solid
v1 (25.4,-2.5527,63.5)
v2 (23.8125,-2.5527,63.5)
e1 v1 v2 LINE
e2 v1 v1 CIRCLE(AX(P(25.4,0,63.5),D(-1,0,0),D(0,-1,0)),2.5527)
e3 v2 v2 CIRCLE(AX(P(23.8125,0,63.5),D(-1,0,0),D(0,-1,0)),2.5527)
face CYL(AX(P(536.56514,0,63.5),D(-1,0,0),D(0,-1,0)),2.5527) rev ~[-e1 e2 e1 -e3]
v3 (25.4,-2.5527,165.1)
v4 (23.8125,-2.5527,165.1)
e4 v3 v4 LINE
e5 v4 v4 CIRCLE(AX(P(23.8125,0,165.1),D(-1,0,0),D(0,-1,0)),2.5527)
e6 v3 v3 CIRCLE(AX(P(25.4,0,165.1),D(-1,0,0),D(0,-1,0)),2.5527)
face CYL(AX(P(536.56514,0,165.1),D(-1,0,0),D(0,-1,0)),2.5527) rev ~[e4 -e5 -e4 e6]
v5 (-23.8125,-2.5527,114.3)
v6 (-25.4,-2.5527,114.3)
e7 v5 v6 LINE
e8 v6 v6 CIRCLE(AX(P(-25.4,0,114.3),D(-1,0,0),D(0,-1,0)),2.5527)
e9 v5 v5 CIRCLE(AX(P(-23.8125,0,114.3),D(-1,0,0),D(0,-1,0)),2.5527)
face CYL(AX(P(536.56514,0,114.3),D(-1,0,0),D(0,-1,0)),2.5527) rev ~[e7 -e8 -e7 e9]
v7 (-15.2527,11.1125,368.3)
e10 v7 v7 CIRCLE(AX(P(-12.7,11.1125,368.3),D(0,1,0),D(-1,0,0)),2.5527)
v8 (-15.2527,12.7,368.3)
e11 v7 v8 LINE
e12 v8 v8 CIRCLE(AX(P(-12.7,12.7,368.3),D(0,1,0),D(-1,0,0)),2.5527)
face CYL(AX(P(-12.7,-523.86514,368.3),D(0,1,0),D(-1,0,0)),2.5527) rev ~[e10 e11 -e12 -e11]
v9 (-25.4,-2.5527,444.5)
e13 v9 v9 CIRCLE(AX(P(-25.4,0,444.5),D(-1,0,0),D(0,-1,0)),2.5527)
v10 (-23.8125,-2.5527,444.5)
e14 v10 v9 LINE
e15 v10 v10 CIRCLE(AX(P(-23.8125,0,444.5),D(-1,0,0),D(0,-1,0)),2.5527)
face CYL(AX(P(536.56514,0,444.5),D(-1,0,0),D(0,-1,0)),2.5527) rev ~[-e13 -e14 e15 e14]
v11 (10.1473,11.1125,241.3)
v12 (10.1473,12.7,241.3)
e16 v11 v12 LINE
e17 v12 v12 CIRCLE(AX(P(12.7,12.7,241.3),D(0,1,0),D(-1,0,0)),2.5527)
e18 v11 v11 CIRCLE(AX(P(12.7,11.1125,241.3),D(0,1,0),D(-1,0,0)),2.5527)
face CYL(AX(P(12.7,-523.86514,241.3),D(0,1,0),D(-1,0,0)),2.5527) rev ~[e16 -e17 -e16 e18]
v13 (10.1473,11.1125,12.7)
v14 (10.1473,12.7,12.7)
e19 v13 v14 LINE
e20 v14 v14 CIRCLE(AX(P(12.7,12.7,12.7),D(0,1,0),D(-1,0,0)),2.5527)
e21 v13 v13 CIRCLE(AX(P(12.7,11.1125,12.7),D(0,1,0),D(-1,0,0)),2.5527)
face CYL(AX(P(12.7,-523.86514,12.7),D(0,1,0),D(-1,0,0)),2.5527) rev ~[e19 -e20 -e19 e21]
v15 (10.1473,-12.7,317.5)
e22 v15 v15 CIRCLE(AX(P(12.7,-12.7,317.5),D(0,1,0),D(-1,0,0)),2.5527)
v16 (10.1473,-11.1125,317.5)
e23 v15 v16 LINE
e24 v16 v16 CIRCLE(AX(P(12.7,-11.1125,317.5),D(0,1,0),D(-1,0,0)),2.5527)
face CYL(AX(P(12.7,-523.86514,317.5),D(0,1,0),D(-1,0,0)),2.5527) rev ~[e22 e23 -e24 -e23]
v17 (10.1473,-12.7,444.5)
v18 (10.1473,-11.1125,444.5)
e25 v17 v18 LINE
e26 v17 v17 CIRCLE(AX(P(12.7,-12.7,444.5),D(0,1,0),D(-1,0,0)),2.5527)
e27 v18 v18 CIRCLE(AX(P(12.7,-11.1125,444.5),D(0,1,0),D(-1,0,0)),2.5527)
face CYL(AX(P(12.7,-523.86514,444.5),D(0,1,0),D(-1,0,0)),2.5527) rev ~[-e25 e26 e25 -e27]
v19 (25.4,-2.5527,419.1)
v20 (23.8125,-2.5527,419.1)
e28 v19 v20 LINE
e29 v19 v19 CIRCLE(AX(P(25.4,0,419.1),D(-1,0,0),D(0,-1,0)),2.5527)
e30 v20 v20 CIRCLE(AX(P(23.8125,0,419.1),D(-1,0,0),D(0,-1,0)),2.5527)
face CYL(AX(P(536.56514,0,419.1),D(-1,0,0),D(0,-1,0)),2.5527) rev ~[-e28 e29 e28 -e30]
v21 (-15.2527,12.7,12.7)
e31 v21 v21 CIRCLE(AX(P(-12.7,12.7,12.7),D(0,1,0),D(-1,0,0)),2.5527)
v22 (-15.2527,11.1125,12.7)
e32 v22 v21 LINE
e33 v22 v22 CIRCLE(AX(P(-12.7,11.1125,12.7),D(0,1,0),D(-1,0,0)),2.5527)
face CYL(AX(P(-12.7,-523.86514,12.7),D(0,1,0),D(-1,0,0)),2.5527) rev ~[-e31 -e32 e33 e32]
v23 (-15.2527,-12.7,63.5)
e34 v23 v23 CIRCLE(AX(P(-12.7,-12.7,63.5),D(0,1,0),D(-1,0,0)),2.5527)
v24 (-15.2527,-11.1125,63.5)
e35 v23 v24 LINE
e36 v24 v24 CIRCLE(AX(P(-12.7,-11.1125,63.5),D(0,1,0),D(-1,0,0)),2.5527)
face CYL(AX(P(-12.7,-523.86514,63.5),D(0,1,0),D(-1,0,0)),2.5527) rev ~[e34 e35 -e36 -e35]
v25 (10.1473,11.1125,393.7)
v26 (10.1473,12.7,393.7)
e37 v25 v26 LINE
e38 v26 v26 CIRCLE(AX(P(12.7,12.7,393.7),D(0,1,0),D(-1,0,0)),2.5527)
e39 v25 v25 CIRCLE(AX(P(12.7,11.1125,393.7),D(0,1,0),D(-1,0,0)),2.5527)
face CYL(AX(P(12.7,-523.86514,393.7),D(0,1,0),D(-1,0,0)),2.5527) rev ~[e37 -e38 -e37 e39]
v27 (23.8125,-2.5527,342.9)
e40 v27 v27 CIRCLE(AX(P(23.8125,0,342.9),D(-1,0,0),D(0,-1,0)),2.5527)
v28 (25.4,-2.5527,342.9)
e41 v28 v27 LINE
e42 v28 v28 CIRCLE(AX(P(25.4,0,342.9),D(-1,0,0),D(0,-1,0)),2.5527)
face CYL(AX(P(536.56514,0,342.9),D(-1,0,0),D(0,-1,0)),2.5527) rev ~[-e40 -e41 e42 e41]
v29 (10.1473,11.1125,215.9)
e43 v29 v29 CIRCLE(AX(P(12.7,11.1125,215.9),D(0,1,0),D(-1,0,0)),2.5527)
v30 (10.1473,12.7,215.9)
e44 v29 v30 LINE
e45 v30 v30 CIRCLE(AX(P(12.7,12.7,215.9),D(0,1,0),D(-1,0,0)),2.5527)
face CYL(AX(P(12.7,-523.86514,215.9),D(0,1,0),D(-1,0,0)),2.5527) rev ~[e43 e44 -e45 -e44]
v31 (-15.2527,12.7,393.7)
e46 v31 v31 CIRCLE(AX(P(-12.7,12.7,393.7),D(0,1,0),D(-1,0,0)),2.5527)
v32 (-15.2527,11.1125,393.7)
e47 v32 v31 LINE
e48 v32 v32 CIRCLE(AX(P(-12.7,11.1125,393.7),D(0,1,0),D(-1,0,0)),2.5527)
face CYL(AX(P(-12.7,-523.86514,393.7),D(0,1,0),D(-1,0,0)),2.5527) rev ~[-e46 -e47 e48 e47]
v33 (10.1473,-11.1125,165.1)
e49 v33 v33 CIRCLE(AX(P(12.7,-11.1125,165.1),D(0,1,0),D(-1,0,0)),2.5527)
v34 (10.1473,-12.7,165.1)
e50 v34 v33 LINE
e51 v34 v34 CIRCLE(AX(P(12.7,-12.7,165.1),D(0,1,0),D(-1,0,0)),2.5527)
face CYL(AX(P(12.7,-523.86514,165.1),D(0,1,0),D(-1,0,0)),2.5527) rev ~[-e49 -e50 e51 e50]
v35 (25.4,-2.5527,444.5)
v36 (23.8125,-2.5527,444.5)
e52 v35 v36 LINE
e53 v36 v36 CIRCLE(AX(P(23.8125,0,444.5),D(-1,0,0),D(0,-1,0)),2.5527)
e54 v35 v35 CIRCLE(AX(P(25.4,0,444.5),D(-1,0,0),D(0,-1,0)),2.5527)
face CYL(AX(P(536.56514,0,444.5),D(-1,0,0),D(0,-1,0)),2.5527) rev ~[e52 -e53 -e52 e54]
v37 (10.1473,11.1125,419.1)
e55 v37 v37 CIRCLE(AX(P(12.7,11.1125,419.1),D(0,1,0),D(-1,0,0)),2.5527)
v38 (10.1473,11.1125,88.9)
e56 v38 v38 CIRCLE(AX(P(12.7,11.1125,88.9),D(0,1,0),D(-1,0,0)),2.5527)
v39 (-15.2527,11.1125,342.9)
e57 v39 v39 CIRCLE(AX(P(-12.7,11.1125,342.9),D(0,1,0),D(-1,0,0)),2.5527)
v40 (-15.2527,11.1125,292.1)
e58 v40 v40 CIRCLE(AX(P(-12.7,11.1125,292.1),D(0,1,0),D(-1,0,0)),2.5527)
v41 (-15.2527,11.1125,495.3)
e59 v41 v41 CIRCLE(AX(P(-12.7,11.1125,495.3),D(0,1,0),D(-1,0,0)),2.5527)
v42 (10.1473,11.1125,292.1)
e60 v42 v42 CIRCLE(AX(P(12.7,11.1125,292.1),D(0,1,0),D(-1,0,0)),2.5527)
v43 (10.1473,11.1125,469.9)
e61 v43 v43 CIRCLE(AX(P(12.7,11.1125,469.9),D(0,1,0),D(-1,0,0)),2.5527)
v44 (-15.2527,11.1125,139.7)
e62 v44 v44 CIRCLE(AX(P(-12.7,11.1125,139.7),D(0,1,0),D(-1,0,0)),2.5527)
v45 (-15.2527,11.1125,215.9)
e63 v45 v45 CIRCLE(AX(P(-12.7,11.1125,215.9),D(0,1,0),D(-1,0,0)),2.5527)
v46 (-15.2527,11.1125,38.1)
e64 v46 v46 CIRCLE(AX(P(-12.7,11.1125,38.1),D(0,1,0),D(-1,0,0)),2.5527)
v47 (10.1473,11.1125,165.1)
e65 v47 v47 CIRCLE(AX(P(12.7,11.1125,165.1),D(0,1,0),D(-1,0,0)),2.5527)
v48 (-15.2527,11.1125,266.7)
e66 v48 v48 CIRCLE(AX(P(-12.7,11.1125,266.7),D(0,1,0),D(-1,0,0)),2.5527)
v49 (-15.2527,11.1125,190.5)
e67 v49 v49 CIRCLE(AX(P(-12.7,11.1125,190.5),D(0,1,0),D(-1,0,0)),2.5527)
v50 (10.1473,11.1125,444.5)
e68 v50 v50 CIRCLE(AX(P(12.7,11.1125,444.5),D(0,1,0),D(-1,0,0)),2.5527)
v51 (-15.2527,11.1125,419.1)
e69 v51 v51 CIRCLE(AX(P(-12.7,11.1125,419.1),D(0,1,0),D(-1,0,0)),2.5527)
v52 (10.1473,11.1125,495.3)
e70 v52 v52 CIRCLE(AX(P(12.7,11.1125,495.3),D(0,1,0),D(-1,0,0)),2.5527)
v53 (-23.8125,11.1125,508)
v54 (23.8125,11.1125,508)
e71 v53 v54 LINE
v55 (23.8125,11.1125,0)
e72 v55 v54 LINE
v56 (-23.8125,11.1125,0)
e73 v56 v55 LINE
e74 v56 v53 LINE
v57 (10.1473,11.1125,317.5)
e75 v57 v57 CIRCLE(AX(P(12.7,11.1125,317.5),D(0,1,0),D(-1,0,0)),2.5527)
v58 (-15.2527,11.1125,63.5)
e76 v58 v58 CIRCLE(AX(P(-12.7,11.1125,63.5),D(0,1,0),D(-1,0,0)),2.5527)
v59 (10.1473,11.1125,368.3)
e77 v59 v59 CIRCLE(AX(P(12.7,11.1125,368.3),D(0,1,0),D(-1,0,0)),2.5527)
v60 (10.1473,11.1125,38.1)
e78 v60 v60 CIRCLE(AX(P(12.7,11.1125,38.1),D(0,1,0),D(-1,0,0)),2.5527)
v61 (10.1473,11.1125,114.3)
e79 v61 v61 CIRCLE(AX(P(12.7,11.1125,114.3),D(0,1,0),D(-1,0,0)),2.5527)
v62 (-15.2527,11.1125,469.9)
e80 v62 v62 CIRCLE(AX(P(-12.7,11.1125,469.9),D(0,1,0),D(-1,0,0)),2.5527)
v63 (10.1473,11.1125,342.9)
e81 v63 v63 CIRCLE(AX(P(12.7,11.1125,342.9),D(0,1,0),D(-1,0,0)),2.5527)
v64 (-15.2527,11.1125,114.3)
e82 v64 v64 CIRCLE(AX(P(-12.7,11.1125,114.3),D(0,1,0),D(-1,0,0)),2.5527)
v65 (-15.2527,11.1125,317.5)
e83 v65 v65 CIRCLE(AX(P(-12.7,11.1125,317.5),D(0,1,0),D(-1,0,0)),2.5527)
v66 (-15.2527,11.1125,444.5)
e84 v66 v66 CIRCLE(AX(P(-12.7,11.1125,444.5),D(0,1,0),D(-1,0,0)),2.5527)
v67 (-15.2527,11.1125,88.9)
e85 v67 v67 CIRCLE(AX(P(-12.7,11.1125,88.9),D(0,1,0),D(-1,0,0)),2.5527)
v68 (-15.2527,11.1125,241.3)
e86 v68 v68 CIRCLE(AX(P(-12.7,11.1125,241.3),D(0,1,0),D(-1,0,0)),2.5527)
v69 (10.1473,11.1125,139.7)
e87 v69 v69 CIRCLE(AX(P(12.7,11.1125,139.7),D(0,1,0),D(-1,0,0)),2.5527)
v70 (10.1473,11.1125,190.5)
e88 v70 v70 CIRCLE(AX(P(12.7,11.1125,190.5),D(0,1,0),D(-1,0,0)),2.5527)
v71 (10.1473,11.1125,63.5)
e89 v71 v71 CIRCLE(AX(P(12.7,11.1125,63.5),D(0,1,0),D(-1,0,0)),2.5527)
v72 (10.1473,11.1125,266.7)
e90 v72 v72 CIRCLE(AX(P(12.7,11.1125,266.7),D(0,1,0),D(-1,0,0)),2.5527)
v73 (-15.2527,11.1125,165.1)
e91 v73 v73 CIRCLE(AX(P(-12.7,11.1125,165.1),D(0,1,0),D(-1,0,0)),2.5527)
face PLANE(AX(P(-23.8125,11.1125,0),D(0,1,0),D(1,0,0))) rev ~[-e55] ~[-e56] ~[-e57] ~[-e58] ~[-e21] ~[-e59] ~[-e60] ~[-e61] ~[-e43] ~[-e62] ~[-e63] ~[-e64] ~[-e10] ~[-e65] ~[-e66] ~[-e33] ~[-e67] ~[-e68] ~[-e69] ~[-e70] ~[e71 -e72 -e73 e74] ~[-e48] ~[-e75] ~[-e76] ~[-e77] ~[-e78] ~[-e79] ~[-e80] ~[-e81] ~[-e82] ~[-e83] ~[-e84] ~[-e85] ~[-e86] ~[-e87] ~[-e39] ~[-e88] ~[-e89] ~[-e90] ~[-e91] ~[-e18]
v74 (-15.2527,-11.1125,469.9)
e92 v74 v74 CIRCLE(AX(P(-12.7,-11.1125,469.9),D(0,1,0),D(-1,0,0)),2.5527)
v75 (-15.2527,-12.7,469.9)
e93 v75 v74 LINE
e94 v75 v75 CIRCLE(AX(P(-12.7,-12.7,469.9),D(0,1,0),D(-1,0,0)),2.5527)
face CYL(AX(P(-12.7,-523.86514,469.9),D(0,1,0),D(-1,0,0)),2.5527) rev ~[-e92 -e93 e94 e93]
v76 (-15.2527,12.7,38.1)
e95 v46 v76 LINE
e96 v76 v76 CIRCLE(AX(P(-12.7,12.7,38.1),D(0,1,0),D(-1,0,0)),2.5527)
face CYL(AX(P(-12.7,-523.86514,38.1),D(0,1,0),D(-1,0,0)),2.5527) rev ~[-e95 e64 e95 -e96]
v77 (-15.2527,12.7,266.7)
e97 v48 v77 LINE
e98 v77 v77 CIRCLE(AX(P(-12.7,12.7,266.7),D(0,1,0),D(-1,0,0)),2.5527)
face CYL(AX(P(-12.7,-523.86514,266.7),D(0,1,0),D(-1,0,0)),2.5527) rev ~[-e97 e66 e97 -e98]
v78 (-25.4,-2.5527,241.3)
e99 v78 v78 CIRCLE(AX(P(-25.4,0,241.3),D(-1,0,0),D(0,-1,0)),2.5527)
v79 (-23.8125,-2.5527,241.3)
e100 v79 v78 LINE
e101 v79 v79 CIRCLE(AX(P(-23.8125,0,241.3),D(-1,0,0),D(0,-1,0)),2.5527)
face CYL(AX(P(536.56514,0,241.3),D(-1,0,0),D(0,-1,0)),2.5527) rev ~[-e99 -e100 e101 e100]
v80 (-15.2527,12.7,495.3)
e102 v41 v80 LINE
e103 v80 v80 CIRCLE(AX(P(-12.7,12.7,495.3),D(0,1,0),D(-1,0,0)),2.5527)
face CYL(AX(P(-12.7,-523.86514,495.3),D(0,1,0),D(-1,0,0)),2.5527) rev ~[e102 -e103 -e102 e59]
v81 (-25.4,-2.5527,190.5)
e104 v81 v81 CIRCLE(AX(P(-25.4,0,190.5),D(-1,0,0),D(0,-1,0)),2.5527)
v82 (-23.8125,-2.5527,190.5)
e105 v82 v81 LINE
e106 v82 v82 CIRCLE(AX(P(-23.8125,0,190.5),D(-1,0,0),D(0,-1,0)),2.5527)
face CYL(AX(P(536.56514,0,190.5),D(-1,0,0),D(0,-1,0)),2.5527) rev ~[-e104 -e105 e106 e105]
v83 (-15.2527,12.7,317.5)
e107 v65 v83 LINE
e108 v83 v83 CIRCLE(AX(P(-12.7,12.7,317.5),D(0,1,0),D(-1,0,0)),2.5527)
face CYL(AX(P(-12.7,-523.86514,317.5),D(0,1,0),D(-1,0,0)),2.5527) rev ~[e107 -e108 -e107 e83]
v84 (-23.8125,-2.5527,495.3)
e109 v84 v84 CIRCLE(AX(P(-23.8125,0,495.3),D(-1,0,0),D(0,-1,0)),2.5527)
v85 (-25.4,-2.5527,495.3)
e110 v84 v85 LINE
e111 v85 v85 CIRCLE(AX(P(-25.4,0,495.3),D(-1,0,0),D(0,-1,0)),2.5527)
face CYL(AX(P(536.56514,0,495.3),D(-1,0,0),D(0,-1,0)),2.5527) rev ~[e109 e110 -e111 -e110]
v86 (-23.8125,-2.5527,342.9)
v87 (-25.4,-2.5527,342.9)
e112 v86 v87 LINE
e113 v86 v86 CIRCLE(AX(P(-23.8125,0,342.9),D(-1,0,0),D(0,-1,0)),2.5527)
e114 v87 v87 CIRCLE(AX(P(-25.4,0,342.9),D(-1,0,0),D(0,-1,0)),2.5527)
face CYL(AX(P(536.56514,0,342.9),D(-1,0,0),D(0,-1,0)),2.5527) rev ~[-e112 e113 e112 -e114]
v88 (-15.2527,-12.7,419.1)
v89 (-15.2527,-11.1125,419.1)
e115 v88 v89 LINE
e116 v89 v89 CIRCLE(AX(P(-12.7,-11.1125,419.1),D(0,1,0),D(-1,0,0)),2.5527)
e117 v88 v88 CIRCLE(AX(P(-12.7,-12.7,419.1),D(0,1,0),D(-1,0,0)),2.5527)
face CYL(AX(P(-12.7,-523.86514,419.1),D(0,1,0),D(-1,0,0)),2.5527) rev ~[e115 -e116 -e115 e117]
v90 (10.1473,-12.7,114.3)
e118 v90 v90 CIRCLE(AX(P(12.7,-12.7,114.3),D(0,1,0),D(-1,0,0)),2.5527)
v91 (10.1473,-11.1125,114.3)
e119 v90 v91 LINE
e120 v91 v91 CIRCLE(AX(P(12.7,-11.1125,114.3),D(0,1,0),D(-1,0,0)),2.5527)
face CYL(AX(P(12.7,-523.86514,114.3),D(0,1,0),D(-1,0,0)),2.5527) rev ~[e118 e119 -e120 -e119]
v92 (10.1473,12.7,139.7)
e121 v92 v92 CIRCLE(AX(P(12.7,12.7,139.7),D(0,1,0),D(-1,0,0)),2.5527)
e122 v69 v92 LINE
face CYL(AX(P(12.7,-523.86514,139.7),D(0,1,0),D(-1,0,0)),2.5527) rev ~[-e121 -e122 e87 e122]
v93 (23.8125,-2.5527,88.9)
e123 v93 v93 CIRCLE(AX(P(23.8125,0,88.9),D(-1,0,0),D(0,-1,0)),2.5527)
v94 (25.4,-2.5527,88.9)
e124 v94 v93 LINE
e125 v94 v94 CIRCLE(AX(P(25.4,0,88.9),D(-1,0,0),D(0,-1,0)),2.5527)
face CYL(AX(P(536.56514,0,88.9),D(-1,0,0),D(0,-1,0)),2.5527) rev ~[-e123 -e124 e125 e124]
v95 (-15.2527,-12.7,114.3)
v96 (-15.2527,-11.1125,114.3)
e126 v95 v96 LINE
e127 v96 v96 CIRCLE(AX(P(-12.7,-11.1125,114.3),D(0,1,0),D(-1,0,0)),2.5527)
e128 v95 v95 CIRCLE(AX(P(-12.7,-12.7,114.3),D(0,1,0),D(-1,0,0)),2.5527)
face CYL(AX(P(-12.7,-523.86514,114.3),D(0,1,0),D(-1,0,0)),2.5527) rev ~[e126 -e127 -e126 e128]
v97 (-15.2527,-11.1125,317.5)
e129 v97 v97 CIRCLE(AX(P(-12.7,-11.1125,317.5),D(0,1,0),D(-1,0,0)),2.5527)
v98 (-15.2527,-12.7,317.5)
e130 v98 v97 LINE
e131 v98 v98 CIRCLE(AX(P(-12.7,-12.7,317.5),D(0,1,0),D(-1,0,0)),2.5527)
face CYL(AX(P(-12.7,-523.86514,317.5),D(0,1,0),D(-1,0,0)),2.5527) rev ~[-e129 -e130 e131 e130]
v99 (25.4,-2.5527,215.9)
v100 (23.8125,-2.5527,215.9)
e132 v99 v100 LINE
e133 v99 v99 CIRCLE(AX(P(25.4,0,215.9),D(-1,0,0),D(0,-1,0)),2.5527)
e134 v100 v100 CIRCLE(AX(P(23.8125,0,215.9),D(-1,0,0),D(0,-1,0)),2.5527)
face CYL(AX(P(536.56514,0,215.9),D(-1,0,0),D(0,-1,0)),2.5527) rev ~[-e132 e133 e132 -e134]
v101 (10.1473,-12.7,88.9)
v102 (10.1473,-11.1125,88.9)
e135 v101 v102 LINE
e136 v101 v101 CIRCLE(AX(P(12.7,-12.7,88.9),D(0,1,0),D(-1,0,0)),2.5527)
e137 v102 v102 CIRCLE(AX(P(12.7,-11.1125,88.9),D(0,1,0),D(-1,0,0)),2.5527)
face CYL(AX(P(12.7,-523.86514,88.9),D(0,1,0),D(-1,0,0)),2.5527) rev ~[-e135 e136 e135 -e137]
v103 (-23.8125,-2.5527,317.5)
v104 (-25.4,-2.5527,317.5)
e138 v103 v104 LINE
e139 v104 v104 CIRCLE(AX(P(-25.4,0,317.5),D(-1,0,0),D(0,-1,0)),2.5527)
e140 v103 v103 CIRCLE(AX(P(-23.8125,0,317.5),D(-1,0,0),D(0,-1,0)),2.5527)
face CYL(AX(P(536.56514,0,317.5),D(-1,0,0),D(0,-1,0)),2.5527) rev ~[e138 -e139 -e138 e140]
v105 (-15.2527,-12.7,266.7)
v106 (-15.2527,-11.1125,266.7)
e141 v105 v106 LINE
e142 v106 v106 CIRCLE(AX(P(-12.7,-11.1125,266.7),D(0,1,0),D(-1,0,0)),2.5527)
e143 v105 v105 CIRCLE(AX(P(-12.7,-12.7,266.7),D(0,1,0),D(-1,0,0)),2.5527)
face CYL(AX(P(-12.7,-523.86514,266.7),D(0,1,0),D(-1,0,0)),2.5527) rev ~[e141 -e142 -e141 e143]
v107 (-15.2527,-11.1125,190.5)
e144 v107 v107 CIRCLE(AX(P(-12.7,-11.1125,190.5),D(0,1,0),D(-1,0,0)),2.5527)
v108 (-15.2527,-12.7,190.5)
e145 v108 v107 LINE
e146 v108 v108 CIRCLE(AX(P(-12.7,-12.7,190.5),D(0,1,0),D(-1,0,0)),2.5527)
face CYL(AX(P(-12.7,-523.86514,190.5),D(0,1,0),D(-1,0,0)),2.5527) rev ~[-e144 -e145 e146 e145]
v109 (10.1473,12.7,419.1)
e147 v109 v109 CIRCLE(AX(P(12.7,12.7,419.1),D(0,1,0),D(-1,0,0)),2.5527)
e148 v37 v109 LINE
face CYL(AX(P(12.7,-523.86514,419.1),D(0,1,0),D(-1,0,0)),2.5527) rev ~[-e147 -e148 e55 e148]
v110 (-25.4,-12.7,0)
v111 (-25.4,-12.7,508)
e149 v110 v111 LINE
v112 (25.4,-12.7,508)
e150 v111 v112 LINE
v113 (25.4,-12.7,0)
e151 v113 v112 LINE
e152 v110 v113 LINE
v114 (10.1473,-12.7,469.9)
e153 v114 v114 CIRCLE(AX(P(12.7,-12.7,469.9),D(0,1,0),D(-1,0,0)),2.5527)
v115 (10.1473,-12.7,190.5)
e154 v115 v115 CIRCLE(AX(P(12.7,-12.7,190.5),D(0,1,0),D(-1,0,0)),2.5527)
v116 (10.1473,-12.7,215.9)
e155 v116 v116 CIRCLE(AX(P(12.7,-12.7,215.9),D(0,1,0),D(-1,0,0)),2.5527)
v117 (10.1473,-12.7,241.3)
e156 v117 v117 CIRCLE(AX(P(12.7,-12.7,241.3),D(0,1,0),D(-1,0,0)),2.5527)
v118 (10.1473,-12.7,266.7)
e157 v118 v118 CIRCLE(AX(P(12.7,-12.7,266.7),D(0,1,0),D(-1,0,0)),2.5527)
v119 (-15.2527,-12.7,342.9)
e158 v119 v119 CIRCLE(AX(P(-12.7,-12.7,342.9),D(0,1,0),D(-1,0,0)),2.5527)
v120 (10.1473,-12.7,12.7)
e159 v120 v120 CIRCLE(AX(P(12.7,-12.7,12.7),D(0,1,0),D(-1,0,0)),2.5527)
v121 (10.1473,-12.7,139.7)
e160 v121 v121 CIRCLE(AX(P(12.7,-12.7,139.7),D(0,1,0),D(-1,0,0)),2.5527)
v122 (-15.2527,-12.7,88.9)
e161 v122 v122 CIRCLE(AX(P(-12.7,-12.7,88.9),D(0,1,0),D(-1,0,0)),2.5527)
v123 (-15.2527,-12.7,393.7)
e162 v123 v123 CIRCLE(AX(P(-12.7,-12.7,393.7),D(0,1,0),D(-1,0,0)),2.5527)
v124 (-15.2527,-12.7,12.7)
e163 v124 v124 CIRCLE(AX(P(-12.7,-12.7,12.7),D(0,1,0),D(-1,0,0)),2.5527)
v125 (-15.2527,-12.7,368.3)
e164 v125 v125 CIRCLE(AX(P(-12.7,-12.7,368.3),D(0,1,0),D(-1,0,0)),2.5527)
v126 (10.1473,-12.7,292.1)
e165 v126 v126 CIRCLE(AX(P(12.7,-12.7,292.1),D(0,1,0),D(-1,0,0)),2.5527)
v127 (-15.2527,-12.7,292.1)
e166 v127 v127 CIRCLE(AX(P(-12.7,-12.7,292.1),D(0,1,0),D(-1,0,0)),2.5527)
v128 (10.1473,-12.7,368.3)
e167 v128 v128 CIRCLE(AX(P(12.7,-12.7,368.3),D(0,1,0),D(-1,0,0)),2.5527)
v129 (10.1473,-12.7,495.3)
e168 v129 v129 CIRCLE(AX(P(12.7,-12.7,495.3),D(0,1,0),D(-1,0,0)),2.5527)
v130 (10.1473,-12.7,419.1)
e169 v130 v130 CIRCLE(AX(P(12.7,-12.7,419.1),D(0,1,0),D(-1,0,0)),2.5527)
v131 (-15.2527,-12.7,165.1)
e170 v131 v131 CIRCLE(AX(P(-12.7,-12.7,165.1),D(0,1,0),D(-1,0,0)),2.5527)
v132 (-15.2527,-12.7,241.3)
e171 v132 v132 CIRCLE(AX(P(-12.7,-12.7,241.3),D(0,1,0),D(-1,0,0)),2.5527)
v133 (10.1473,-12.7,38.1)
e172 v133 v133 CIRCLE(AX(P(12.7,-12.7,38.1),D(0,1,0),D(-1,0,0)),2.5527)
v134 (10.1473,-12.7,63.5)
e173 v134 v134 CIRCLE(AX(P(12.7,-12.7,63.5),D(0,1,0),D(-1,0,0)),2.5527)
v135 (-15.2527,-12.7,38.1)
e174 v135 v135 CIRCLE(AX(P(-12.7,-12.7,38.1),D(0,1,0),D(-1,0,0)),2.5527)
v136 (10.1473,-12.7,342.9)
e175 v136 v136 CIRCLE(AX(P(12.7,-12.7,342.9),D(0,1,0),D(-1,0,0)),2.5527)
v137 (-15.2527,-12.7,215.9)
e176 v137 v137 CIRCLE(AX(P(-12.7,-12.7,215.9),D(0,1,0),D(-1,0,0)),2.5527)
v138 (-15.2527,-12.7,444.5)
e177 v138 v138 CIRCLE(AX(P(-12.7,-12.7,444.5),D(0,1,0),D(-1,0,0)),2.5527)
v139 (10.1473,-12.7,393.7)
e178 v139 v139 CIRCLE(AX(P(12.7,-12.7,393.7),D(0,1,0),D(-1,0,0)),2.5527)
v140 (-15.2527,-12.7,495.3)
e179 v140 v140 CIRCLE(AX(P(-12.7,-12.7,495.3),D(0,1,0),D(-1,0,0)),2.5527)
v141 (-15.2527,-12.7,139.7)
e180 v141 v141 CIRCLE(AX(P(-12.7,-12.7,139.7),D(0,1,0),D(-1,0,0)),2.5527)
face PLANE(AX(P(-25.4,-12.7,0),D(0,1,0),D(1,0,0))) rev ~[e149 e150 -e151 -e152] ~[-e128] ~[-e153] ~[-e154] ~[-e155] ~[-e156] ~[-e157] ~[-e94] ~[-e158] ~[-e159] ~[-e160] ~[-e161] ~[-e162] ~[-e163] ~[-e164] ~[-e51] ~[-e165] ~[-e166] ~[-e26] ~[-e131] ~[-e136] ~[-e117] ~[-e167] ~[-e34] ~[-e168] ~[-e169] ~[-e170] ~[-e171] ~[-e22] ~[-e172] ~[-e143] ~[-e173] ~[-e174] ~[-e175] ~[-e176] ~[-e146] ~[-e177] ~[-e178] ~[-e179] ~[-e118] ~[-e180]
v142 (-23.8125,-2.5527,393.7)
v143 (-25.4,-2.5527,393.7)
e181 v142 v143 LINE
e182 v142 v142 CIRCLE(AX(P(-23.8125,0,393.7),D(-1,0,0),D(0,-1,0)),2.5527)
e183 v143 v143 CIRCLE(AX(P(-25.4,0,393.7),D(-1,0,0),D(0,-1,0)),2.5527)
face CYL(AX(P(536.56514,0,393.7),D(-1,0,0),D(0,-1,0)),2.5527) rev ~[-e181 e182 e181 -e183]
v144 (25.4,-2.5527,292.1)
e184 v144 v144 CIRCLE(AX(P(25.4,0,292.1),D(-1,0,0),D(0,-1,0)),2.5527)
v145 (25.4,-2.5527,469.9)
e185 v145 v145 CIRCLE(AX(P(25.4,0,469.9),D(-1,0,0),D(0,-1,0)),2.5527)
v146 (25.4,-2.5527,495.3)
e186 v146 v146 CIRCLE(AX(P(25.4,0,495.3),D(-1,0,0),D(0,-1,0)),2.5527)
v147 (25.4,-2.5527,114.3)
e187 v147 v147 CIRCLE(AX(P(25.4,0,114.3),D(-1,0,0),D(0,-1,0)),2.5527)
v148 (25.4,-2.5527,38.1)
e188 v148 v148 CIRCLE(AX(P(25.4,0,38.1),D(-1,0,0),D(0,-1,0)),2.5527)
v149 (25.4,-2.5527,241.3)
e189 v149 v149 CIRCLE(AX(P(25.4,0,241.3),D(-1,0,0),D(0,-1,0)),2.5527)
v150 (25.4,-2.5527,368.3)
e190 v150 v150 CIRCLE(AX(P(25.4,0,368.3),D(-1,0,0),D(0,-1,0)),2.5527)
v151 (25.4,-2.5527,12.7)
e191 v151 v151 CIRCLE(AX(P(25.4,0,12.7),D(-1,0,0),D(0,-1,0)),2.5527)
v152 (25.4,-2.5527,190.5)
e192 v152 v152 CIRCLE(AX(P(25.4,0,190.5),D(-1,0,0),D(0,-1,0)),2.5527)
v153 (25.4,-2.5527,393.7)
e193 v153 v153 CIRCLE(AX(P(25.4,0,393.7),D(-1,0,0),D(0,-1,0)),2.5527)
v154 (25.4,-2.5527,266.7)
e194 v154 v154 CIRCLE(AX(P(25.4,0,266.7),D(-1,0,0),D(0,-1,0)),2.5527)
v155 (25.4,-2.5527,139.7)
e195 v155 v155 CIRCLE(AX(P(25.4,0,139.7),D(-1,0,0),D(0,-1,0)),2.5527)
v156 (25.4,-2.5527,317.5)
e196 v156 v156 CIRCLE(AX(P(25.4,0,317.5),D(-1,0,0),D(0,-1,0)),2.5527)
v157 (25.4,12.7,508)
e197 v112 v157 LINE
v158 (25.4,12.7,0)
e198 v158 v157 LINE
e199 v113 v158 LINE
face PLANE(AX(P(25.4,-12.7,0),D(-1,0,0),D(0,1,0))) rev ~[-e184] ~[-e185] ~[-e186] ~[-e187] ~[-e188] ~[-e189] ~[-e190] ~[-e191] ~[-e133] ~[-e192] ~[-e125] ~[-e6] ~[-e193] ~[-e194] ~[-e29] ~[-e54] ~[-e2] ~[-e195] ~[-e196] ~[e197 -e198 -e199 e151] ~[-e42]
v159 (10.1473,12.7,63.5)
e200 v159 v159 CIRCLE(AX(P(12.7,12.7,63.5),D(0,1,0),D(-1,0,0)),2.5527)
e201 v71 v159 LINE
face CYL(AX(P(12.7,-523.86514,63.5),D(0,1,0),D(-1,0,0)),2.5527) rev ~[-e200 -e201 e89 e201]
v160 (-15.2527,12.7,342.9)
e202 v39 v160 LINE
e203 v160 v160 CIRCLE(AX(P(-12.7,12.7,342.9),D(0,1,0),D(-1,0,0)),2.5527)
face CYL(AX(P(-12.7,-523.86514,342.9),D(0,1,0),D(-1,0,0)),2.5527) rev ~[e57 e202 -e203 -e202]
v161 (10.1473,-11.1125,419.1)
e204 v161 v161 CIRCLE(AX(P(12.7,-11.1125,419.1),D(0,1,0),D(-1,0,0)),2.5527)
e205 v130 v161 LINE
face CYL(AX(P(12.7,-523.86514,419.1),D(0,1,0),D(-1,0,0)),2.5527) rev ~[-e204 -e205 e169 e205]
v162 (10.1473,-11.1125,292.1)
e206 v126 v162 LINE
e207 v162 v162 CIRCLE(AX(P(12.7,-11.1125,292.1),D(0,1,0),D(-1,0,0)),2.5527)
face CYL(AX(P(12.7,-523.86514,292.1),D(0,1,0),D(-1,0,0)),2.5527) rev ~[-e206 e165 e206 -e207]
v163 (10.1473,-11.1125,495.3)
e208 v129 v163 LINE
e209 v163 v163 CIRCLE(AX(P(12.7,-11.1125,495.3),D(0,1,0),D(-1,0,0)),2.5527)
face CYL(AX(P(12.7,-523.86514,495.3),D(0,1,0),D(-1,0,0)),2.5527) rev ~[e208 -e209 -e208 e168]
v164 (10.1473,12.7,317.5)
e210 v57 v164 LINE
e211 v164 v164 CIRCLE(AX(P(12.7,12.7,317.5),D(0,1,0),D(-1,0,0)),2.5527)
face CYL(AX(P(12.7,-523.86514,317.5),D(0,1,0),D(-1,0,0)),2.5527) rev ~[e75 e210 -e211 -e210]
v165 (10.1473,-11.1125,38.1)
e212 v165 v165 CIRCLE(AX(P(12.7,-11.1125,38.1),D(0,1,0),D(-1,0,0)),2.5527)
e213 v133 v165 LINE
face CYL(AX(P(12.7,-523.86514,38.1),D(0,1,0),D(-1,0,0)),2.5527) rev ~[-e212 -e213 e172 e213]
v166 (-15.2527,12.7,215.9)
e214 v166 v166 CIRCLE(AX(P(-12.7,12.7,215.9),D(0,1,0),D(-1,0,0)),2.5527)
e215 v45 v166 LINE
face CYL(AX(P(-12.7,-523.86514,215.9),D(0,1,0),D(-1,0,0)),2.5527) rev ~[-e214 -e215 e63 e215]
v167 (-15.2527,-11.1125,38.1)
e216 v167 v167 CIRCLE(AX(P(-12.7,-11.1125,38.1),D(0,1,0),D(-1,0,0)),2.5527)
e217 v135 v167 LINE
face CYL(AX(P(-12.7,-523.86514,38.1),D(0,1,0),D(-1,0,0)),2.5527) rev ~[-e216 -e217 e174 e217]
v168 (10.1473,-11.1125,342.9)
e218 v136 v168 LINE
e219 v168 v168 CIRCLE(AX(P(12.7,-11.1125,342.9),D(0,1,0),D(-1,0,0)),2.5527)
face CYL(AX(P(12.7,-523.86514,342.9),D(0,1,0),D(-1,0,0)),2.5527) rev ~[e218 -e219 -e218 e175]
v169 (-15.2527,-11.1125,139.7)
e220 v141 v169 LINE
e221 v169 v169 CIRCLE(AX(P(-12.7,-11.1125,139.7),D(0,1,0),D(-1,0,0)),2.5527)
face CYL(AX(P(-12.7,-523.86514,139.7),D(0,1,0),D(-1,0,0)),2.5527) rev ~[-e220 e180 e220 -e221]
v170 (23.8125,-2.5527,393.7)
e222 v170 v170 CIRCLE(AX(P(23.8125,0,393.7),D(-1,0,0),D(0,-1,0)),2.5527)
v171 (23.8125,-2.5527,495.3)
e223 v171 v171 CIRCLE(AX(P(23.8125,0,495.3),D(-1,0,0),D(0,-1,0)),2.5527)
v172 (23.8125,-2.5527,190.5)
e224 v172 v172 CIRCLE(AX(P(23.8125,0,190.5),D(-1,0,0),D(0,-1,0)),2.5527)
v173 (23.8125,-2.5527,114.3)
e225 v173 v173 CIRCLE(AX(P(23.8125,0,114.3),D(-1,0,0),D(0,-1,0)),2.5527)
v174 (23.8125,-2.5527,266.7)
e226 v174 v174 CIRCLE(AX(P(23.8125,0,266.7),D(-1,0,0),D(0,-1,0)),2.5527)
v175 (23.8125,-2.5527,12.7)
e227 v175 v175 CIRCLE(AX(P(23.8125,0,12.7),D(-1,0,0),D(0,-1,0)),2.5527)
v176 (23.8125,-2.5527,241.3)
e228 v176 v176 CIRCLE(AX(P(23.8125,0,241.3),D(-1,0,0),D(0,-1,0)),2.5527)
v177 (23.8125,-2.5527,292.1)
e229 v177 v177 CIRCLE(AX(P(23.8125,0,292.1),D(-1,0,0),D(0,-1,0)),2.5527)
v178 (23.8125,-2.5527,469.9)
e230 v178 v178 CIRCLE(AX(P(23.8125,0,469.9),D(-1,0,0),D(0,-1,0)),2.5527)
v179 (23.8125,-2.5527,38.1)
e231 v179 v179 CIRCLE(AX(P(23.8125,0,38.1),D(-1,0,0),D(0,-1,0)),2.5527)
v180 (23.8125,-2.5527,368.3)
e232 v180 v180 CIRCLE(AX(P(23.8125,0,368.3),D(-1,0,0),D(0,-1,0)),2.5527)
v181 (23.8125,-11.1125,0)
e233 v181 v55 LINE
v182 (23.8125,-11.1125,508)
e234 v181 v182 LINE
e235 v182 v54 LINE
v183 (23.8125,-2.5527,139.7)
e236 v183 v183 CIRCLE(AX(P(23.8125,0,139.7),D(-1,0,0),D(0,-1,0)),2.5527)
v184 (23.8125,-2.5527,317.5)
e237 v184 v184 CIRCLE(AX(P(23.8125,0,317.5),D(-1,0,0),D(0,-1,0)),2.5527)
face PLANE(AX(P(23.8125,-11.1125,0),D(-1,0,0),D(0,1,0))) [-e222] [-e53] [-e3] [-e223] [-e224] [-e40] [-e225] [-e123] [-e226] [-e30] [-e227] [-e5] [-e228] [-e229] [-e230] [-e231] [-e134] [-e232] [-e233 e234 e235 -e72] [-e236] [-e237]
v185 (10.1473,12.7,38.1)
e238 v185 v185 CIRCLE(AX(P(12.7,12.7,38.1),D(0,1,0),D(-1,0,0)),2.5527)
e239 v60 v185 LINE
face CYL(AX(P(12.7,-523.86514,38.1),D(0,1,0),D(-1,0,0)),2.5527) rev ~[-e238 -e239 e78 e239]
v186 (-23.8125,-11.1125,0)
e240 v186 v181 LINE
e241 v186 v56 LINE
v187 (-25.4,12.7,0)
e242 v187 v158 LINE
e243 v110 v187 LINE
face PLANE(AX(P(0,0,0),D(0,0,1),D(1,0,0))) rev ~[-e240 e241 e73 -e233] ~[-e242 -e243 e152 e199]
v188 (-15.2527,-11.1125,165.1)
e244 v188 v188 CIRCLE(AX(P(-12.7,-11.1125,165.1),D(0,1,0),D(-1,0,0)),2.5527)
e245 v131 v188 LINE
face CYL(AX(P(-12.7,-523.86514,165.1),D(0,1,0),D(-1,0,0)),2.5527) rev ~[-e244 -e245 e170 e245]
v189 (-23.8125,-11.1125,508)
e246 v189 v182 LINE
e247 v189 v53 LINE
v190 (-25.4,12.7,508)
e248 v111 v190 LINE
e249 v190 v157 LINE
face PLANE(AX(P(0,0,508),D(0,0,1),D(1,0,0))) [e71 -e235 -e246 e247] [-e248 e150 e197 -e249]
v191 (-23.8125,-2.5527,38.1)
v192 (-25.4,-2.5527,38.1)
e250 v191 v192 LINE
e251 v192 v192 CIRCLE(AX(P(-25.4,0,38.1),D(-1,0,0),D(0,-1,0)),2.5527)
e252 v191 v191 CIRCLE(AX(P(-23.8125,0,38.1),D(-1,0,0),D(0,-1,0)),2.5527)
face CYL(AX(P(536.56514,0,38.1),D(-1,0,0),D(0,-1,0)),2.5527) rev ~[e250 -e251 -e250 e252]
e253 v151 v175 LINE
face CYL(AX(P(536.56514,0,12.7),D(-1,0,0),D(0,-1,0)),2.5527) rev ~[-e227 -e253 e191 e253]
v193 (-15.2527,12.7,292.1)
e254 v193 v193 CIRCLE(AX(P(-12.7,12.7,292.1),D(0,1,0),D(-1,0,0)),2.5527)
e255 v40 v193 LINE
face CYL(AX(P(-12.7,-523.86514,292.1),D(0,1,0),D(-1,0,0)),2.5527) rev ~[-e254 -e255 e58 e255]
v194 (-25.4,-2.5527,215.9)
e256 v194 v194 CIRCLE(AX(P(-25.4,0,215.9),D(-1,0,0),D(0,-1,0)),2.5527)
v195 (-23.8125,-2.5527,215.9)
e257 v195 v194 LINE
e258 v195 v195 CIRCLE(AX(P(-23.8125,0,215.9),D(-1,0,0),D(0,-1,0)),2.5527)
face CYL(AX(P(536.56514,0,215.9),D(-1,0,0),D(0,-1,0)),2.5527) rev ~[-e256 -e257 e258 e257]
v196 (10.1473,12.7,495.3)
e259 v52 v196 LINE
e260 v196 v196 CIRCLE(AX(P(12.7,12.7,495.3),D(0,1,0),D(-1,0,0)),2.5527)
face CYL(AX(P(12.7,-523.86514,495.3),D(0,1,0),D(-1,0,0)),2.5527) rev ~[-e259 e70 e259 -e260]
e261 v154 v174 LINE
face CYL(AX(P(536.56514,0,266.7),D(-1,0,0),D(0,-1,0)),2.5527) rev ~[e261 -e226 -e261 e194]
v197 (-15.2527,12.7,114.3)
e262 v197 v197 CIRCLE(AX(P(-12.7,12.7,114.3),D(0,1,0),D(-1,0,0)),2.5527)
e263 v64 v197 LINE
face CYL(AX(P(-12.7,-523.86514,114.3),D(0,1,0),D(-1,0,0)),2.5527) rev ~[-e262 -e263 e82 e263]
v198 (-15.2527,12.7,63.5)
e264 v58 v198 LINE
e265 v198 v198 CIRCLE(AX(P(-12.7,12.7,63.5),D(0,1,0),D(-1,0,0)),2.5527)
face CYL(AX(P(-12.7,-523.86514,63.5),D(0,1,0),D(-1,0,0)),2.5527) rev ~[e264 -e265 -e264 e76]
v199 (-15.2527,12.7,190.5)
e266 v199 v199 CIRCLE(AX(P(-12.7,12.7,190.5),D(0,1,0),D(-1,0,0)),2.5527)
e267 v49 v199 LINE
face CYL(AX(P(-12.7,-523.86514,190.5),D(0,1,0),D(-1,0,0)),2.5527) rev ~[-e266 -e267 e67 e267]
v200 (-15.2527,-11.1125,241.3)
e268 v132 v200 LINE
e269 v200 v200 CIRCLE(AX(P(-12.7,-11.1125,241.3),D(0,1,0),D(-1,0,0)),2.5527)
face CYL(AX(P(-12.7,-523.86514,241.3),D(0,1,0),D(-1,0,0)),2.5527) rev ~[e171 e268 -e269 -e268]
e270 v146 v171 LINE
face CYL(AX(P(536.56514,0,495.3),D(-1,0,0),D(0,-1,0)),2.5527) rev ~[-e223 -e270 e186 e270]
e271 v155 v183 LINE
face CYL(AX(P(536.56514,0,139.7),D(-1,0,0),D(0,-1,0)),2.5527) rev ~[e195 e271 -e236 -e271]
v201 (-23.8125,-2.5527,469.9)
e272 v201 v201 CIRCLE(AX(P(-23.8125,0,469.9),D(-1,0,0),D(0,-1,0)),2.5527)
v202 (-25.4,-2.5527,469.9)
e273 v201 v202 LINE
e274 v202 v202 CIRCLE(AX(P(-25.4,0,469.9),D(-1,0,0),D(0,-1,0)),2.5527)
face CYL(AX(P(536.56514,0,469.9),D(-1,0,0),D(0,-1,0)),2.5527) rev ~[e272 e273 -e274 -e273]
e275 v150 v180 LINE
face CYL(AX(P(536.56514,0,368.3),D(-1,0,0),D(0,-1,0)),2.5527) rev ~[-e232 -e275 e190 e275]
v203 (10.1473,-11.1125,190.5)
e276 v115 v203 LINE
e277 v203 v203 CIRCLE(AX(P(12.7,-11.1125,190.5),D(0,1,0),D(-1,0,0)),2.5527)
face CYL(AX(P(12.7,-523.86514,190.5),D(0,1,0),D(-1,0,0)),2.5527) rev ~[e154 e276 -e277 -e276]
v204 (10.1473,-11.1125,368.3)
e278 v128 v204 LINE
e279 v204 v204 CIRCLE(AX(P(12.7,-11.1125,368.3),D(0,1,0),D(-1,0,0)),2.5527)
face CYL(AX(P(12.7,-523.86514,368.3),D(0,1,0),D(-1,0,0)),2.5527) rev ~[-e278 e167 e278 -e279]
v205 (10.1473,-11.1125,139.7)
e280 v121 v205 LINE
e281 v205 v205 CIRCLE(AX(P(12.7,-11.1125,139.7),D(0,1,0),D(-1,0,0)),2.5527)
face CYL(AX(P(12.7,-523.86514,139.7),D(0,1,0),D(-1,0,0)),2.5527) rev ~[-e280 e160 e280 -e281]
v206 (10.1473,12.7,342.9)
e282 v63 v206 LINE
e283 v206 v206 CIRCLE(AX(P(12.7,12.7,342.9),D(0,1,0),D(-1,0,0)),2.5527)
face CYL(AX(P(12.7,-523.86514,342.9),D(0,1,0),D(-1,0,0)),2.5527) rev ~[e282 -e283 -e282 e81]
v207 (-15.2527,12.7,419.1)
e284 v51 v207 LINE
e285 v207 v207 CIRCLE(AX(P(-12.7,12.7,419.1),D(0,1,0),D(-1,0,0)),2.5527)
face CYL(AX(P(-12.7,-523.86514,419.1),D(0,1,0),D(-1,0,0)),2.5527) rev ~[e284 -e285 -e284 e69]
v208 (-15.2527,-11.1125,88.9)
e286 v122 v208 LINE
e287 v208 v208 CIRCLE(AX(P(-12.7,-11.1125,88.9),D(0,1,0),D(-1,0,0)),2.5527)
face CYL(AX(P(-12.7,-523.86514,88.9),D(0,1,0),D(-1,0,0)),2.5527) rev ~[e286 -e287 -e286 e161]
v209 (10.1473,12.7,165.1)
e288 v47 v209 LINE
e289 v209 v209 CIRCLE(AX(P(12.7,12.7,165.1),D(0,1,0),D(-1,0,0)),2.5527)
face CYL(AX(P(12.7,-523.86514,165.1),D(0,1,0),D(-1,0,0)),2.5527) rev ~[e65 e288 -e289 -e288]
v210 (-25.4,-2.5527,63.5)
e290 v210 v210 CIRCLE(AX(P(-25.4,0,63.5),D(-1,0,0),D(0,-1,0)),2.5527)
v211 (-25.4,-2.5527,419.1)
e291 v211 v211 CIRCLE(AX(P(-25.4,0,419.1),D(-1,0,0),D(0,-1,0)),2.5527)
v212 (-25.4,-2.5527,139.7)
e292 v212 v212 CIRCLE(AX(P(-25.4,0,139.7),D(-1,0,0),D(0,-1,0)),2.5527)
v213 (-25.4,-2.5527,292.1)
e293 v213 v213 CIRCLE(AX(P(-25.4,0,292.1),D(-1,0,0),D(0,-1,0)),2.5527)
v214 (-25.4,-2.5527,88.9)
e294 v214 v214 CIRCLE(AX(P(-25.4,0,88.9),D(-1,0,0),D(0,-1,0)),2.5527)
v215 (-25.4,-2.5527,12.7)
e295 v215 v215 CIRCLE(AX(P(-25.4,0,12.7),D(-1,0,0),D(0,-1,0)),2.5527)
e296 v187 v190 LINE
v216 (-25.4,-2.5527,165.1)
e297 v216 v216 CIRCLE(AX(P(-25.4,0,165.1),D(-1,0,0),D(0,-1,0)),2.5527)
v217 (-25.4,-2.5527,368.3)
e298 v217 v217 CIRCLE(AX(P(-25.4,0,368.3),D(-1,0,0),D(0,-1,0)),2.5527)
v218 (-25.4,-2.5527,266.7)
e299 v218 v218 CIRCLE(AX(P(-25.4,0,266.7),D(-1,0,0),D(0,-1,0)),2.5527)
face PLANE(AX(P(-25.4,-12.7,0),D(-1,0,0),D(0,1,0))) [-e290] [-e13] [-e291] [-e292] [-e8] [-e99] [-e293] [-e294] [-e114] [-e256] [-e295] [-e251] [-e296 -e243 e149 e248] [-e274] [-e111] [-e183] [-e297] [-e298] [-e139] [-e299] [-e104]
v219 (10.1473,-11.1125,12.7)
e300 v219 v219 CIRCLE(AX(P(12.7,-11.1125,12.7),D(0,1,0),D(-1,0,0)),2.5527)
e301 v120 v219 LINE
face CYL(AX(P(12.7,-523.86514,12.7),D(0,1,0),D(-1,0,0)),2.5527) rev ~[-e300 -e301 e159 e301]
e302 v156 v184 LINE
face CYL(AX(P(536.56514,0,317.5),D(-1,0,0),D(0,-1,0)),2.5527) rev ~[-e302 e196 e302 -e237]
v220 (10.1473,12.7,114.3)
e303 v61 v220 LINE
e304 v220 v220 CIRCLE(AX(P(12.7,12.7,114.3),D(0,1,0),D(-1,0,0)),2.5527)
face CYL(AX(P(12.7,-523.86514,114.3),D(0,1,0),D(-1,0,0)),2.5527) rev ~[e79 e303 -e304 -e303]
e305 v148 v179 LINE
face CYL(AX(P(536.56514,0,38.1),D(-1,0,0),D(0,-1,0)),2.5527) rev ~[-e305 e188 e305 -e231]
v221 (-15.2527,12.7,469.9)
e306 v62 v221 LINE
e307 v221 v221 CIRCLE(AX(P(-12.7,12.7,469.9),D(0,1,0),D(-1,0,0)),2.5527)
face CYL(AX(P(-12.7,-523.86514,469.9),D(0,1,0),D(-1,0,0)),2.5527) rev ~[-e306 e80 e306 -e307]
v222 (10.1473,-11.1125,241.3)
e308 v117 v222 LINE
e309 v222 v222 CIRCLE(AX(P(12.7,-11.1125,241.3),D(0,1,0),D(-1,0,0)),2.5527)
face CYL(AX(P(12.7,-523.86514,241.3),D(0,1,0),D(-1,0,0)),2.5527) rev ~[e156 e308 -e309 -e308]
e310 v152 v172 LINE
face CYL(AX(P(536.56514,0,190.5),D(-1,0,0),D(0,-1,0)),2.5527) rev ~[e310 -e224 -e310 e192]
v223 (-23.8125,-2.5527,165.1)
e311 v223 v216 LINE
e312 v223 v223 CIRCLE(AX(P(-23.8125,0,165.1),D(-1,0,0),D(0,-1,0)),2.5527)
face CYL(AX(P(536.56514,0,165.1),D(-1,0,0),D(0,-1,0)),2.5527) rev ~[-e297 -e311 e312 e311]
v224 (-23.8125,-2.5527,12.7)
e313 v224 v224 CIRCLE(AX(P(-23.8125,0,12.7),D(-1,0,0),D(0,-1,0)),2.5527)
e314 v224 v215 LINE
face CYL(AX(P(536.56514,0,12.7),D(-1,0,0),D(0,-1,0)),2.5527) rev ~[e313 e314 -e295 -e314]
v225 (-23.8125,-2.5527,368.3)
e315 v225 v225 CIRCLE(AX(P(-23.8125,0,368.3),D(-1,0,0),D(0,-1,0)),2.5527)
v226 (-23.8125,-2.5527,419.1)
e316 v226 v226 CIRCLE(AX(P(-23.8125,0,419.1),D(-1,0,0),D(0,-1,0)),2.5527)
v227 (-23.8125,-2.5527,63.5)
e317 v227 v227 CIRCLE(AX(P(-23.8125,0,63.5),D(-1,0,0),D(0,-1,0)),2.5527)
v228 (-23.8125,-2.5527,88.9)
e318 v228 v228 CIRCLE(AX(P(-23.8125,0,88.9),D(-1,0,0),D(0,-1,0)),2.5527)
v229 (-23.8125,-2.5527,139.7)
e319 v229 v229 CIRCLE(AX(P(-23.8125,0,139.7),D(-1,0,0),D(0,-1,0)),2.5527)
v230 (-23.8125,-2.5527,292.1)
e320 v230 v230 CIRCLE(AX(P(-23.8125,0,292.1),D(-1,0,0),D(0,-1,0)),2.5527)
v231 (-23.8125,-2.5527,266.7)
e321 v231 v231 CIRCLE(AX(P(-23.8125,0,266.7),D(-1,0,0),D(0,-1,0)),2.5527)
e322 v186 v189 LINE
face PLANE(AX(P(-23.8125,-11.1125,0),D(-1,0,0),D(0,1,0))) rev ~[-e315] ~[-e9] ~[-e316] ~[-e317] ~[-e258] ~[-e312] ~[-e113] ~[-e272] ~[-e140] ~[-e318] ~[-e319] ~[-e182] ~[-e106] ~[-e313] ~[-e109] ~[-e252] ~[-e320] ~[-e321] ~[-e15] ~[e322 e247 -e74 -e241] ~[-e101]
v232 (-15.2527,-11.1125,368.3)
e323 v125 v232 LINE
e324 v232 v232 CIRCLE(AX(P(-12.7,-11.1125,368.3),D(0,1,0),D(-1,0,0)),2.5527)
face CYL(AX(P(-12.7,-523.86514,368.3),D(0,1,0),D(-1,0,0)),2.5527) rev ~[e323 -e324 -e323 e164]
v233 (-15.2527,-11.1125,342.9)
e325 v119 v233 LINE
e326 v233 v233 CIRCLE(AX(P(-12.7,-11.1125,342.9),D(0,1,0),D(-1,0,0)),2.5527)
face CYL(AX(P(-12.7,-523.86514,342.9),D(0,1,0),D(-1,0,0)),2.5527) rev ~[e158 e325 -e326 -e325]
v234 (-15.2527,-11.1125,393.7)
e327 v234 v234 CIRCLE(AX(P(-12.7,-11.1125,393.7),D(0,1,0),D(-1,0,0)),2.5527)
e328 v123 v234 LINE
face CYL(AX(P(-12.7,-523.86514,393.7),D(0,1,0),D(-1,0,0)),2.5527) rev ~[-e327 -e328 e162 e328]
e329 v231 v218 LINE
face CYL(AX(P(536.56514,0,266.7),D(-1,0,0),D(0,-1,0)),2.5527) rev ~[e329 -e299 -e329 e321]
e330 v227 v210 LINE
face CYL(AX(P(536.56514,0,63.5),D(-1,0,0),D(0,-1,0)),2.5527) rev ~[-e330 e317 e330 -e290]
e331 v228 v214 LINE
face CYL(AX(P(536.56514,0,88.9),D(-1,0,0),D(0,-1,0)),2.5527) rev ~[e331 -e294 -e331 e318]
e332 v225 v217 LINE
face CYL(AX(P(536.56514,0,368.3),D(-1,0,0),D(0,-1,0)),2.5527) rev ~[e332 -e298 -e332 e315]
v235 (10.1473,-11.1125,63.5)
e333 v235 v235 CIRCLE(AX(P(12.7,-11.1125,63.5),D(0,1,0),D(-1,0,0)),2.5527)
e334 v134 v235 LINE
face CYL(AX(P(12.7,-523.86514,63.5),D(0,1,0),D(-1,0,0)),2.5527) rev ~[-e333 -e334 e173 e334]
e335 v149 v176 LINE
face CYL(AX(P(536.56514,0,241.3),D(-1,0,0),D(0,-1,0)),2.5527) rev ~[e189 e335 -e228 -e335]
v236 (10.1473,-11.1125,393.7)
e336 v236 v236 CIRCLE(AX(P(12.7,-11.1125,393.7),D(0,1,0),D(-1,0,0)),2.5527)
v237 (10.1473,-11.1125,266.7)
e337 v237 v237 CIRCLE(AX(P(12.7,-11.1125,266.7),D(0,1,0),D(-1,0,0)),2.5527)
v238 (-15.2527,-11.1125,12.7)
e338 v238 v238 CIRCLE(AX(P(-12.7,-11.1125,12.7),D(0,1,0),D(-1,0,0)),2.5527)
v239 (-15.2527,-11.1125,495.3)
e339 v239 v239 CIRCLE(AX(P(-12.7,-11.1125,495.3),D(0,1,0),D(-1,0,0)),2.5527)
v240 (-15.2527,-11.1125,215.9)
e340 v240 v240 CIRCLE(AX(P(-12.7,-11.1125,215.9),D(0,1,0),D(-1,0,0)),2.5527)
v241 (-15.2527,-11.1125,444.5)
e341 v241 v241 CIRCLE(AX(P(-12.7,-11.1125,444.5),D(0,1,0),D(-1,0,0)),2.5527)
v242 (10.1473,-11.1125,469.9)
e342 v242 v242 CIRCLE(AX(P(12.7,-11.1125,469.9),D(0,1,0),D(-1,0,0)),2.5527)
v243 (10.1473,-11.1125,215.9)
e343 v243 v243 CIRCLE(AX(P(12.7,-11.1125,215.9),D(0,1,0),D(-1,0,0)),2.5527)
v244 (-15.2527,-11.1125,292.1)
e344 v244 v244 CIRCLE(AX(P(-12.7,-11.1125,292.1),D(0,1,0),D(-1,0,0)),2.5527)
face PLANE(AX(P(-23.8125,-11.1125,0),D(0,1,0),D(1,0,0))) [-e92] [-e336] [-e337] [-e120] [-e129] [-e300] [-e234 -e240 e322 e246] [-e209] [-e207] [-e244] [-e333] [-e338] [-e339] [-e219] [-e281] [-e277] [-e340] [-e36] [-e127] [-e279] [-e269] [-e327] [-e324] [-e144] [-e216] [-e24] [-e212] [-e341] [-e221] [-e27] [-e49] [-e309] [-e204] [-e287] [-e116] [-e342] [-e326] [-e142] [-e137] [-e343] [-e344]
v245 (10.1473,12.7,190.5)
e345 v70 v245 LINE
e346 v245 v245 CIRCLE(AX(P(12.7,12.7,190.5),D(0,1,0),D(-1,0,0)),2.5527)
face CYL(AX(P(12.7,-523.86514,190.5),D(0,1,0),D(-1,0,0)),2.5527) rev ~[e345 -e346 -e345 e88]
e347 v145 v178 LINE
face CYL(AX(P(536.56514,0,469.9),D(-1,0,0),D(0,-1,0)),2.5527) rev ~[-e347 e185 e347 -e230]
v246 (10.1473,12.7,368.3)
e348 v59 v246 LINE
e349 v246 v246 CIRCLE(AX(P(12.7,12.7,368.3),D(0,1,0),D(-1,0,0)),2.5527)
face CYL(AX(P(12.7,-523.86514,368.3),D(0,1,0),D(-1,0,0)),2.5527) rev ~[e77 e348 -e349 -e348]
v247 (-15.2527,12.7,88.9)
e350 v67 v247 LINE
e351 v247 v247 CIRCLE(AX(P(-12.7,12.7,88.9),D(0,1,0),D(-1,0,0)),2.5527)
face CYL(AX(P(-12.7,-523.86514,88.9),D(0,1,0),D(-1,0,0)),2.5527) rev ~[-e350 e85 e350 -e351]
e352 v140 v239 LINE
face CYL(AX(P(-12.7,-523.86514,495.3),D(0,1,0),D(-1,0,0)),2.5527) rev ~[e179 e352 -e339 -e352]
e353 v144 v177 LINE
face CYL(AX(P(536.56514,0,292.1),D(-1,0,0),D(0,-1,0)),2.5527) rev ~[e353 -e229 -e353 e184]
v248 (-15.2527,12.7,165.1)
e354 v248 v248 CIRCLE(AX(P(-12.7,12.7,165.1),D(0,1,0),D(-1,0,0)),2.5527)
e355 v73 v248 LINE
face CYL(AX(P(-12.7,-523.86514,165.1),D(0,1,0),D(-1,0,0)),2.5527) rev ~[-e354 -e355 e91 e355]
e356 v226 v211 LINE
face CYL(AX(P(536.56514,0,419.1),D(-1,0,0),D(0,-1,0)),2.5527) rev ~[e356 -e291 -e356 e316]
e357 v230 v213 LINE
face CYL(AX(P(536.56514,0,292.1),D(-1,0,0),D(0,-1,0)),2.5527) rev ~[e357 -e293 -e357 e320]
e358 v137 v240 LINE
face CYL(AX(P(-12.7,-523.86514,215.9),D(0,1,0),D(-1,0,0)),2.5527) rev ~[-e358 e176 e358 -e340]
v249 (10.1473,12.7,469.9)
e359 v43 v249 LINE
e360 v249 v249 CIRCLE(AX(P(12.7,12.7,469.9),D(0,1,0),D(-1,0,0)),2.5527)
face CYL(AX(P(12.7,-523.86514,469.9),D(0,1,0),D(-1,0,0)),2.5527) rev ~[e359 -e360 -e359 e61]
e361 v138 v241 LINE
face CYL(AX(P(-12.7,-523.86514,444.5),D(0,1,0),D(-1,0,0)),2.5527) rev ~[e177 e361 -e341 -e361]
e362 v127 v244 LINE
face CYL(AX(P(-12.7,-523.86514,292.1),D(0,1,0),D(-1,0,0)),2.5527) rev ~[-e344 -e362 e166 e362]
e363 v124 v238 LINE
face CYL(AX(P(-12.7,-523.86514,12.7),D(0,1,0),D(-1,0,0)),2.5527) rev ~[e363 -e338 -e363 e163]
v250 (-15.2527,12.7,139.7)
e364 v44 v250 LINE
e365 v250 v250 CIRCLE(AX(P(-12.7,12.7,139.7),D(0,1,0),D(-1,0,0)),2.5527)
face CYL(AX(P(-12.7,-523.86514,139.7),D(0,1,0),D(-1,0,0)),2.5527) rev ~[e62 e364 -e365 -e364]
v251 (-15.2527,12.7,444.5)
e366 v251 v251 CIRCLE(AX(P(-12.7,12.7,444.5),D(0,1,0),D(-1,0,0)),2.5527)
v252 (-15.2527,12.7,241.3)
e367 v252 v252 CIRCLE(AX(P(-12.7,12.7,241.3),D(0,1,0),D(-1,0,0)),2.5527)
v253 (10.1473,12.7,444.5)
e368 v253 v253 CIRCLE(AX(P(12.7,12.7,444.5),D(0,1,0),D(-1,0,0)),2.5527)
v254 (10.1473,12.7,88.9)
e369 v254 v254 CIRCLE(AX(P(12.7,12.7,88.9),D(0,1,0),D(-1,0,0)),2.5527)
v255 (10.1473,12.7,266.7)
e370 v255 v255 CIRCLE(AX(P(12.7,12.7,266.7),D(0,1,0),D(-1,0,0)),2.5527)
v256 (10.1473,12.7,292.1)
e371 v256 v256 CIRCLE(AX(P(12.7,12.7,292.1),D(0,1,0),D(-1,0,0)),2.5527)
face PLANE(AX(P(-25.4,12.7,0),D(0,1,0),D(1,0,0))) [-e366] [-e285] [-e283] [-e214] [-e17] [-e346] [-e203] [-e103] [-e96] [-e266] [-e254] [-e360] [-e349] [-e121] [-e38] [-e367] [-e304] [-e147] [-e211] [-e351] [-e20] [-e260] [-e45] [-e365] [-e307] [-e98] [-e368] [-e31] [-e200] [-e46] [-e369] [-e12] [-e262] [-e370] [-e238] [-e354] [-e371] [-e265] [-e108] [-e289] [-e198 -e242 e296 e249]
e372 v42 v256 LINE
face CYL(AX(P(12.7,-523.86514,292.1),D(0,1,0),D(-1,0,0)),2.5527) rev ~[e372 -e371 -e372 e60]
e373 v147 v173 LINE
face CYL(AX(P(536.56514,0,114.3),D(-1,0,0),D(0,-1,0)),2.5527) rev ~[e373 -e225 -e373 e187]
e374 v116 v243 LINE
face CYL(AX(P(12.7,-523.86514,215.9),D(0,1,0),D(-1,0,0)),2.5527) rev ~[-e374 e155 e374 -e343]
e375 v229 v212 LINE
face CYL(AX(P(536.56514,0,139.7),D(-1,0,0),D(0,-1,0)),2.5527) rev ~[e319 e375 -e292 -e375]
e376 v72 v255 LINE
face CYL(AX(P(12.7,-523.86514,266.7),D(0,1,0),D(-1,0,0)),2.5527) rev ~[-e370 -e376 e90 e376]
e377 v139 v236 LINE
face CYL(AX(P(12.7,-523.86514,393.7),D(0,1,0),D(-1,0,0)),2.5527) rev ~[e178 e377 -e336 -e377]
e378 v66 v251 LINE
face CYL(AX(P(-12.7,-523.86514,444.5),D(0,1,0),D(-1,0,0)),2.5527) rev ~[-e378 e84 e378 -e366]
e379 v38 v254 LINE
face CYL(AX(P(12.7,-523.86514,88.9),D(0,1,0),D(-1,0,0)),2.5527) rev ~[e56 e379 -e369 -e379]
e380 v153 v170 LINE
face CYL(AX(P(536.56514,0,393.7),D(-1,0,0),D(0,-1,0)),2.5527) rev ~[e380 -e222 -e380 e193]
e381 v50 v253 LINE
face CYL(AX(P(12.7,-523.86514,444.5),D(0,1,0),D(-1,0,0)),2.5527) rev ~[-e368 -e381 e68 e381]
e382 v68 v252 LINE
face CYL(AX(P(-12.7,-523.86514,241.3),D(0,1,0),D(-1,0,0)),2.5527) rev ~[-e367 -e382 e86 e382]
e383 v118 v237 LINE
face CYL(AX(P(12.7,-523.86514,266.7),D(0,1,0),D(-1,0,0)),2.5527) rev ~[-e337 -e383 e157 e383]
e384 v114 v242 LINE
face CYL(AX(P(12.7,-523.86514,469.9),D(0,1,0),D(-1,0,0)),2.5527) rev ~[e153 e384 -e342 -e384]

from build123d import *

# Parameters (mm, degrees)
F0_W     = 50.8
F0_H     = 25.4
F0_W_2   = 47.625
F0_H_2   = 22.225
F1_DEPTH = 508
F3_D     = 5.1054
F5_D     = 5.1054


with BuildPart() as f1:
    # F0 (on Top) → F1 (new body)
    with BuildSketch(Plane.XY):
        Rectangle(F0_W, F0_H)
        Rectangle(F0_W_2, F0_H_2, mode=Mode.SUBTRACT)
    extrude(amount=F1_DEPTH)

    # F3 (through all)
    with Locations(Plane.XZ.offset(12.7)):
        with Locations((-12.7, 317.5), (-12.7, 342.9), (12.7, 342.9), (12.7, 317.5), (12.7, 292.1), (12.7, 266.7), (-12.7, 266.7), (-12.7, 292.1), (12.7, 114.3), (-12.7, 114.3), (-12.7, 139.7), (12.7, 139.7), (12.7, 165.1), (-12.7, 165.1), (-12.7, 190.5), (12.7, 190.5), (-12.7, 215.9), (12.7, 241.3), (-12.7, 241.3), (12.7, 215.9), (-12.7, 419.1), (-12.7, 469.9), (12.7, 469.9), (12.7, 419.1), (12.7, 444.5), (-12.7, 444.5), (-12.7, 393.7), (12.7, 393.7), (12.7, 368.3), (-12.7, 368.3), (12.7, 63.5), (12.7, 88.9), (12.7, 12.7), (12.7, 38.1), (-12.7, 12.7), (-12.7, 38.1), (-12.7, 63.5), (-12.7, 88.9), (-12.7, 495.3), (12.7, 495.3)):
            Hole(F3_D / 2)

    # F5 (through all)
    with Locations(Plane.YZ.offset(25.4)):
        with Locations((0, 38.1), (0, 12.7), (0, 88.9), (0, 63.5), (0, 215.9), (0, 190.5), (0, 165.1), (0, 139.7), (0, 114.3), (0, 444.5), (0, 469.9), (0, 419.1), (0, 317.5), (0, 342.9), (0, 368.3), (0, 393.7), (0, 266.7), (0, 292.1), (0, 241.3), (0, 495.3)):
            Hole(F5_D / 2)


solid = f1.part
